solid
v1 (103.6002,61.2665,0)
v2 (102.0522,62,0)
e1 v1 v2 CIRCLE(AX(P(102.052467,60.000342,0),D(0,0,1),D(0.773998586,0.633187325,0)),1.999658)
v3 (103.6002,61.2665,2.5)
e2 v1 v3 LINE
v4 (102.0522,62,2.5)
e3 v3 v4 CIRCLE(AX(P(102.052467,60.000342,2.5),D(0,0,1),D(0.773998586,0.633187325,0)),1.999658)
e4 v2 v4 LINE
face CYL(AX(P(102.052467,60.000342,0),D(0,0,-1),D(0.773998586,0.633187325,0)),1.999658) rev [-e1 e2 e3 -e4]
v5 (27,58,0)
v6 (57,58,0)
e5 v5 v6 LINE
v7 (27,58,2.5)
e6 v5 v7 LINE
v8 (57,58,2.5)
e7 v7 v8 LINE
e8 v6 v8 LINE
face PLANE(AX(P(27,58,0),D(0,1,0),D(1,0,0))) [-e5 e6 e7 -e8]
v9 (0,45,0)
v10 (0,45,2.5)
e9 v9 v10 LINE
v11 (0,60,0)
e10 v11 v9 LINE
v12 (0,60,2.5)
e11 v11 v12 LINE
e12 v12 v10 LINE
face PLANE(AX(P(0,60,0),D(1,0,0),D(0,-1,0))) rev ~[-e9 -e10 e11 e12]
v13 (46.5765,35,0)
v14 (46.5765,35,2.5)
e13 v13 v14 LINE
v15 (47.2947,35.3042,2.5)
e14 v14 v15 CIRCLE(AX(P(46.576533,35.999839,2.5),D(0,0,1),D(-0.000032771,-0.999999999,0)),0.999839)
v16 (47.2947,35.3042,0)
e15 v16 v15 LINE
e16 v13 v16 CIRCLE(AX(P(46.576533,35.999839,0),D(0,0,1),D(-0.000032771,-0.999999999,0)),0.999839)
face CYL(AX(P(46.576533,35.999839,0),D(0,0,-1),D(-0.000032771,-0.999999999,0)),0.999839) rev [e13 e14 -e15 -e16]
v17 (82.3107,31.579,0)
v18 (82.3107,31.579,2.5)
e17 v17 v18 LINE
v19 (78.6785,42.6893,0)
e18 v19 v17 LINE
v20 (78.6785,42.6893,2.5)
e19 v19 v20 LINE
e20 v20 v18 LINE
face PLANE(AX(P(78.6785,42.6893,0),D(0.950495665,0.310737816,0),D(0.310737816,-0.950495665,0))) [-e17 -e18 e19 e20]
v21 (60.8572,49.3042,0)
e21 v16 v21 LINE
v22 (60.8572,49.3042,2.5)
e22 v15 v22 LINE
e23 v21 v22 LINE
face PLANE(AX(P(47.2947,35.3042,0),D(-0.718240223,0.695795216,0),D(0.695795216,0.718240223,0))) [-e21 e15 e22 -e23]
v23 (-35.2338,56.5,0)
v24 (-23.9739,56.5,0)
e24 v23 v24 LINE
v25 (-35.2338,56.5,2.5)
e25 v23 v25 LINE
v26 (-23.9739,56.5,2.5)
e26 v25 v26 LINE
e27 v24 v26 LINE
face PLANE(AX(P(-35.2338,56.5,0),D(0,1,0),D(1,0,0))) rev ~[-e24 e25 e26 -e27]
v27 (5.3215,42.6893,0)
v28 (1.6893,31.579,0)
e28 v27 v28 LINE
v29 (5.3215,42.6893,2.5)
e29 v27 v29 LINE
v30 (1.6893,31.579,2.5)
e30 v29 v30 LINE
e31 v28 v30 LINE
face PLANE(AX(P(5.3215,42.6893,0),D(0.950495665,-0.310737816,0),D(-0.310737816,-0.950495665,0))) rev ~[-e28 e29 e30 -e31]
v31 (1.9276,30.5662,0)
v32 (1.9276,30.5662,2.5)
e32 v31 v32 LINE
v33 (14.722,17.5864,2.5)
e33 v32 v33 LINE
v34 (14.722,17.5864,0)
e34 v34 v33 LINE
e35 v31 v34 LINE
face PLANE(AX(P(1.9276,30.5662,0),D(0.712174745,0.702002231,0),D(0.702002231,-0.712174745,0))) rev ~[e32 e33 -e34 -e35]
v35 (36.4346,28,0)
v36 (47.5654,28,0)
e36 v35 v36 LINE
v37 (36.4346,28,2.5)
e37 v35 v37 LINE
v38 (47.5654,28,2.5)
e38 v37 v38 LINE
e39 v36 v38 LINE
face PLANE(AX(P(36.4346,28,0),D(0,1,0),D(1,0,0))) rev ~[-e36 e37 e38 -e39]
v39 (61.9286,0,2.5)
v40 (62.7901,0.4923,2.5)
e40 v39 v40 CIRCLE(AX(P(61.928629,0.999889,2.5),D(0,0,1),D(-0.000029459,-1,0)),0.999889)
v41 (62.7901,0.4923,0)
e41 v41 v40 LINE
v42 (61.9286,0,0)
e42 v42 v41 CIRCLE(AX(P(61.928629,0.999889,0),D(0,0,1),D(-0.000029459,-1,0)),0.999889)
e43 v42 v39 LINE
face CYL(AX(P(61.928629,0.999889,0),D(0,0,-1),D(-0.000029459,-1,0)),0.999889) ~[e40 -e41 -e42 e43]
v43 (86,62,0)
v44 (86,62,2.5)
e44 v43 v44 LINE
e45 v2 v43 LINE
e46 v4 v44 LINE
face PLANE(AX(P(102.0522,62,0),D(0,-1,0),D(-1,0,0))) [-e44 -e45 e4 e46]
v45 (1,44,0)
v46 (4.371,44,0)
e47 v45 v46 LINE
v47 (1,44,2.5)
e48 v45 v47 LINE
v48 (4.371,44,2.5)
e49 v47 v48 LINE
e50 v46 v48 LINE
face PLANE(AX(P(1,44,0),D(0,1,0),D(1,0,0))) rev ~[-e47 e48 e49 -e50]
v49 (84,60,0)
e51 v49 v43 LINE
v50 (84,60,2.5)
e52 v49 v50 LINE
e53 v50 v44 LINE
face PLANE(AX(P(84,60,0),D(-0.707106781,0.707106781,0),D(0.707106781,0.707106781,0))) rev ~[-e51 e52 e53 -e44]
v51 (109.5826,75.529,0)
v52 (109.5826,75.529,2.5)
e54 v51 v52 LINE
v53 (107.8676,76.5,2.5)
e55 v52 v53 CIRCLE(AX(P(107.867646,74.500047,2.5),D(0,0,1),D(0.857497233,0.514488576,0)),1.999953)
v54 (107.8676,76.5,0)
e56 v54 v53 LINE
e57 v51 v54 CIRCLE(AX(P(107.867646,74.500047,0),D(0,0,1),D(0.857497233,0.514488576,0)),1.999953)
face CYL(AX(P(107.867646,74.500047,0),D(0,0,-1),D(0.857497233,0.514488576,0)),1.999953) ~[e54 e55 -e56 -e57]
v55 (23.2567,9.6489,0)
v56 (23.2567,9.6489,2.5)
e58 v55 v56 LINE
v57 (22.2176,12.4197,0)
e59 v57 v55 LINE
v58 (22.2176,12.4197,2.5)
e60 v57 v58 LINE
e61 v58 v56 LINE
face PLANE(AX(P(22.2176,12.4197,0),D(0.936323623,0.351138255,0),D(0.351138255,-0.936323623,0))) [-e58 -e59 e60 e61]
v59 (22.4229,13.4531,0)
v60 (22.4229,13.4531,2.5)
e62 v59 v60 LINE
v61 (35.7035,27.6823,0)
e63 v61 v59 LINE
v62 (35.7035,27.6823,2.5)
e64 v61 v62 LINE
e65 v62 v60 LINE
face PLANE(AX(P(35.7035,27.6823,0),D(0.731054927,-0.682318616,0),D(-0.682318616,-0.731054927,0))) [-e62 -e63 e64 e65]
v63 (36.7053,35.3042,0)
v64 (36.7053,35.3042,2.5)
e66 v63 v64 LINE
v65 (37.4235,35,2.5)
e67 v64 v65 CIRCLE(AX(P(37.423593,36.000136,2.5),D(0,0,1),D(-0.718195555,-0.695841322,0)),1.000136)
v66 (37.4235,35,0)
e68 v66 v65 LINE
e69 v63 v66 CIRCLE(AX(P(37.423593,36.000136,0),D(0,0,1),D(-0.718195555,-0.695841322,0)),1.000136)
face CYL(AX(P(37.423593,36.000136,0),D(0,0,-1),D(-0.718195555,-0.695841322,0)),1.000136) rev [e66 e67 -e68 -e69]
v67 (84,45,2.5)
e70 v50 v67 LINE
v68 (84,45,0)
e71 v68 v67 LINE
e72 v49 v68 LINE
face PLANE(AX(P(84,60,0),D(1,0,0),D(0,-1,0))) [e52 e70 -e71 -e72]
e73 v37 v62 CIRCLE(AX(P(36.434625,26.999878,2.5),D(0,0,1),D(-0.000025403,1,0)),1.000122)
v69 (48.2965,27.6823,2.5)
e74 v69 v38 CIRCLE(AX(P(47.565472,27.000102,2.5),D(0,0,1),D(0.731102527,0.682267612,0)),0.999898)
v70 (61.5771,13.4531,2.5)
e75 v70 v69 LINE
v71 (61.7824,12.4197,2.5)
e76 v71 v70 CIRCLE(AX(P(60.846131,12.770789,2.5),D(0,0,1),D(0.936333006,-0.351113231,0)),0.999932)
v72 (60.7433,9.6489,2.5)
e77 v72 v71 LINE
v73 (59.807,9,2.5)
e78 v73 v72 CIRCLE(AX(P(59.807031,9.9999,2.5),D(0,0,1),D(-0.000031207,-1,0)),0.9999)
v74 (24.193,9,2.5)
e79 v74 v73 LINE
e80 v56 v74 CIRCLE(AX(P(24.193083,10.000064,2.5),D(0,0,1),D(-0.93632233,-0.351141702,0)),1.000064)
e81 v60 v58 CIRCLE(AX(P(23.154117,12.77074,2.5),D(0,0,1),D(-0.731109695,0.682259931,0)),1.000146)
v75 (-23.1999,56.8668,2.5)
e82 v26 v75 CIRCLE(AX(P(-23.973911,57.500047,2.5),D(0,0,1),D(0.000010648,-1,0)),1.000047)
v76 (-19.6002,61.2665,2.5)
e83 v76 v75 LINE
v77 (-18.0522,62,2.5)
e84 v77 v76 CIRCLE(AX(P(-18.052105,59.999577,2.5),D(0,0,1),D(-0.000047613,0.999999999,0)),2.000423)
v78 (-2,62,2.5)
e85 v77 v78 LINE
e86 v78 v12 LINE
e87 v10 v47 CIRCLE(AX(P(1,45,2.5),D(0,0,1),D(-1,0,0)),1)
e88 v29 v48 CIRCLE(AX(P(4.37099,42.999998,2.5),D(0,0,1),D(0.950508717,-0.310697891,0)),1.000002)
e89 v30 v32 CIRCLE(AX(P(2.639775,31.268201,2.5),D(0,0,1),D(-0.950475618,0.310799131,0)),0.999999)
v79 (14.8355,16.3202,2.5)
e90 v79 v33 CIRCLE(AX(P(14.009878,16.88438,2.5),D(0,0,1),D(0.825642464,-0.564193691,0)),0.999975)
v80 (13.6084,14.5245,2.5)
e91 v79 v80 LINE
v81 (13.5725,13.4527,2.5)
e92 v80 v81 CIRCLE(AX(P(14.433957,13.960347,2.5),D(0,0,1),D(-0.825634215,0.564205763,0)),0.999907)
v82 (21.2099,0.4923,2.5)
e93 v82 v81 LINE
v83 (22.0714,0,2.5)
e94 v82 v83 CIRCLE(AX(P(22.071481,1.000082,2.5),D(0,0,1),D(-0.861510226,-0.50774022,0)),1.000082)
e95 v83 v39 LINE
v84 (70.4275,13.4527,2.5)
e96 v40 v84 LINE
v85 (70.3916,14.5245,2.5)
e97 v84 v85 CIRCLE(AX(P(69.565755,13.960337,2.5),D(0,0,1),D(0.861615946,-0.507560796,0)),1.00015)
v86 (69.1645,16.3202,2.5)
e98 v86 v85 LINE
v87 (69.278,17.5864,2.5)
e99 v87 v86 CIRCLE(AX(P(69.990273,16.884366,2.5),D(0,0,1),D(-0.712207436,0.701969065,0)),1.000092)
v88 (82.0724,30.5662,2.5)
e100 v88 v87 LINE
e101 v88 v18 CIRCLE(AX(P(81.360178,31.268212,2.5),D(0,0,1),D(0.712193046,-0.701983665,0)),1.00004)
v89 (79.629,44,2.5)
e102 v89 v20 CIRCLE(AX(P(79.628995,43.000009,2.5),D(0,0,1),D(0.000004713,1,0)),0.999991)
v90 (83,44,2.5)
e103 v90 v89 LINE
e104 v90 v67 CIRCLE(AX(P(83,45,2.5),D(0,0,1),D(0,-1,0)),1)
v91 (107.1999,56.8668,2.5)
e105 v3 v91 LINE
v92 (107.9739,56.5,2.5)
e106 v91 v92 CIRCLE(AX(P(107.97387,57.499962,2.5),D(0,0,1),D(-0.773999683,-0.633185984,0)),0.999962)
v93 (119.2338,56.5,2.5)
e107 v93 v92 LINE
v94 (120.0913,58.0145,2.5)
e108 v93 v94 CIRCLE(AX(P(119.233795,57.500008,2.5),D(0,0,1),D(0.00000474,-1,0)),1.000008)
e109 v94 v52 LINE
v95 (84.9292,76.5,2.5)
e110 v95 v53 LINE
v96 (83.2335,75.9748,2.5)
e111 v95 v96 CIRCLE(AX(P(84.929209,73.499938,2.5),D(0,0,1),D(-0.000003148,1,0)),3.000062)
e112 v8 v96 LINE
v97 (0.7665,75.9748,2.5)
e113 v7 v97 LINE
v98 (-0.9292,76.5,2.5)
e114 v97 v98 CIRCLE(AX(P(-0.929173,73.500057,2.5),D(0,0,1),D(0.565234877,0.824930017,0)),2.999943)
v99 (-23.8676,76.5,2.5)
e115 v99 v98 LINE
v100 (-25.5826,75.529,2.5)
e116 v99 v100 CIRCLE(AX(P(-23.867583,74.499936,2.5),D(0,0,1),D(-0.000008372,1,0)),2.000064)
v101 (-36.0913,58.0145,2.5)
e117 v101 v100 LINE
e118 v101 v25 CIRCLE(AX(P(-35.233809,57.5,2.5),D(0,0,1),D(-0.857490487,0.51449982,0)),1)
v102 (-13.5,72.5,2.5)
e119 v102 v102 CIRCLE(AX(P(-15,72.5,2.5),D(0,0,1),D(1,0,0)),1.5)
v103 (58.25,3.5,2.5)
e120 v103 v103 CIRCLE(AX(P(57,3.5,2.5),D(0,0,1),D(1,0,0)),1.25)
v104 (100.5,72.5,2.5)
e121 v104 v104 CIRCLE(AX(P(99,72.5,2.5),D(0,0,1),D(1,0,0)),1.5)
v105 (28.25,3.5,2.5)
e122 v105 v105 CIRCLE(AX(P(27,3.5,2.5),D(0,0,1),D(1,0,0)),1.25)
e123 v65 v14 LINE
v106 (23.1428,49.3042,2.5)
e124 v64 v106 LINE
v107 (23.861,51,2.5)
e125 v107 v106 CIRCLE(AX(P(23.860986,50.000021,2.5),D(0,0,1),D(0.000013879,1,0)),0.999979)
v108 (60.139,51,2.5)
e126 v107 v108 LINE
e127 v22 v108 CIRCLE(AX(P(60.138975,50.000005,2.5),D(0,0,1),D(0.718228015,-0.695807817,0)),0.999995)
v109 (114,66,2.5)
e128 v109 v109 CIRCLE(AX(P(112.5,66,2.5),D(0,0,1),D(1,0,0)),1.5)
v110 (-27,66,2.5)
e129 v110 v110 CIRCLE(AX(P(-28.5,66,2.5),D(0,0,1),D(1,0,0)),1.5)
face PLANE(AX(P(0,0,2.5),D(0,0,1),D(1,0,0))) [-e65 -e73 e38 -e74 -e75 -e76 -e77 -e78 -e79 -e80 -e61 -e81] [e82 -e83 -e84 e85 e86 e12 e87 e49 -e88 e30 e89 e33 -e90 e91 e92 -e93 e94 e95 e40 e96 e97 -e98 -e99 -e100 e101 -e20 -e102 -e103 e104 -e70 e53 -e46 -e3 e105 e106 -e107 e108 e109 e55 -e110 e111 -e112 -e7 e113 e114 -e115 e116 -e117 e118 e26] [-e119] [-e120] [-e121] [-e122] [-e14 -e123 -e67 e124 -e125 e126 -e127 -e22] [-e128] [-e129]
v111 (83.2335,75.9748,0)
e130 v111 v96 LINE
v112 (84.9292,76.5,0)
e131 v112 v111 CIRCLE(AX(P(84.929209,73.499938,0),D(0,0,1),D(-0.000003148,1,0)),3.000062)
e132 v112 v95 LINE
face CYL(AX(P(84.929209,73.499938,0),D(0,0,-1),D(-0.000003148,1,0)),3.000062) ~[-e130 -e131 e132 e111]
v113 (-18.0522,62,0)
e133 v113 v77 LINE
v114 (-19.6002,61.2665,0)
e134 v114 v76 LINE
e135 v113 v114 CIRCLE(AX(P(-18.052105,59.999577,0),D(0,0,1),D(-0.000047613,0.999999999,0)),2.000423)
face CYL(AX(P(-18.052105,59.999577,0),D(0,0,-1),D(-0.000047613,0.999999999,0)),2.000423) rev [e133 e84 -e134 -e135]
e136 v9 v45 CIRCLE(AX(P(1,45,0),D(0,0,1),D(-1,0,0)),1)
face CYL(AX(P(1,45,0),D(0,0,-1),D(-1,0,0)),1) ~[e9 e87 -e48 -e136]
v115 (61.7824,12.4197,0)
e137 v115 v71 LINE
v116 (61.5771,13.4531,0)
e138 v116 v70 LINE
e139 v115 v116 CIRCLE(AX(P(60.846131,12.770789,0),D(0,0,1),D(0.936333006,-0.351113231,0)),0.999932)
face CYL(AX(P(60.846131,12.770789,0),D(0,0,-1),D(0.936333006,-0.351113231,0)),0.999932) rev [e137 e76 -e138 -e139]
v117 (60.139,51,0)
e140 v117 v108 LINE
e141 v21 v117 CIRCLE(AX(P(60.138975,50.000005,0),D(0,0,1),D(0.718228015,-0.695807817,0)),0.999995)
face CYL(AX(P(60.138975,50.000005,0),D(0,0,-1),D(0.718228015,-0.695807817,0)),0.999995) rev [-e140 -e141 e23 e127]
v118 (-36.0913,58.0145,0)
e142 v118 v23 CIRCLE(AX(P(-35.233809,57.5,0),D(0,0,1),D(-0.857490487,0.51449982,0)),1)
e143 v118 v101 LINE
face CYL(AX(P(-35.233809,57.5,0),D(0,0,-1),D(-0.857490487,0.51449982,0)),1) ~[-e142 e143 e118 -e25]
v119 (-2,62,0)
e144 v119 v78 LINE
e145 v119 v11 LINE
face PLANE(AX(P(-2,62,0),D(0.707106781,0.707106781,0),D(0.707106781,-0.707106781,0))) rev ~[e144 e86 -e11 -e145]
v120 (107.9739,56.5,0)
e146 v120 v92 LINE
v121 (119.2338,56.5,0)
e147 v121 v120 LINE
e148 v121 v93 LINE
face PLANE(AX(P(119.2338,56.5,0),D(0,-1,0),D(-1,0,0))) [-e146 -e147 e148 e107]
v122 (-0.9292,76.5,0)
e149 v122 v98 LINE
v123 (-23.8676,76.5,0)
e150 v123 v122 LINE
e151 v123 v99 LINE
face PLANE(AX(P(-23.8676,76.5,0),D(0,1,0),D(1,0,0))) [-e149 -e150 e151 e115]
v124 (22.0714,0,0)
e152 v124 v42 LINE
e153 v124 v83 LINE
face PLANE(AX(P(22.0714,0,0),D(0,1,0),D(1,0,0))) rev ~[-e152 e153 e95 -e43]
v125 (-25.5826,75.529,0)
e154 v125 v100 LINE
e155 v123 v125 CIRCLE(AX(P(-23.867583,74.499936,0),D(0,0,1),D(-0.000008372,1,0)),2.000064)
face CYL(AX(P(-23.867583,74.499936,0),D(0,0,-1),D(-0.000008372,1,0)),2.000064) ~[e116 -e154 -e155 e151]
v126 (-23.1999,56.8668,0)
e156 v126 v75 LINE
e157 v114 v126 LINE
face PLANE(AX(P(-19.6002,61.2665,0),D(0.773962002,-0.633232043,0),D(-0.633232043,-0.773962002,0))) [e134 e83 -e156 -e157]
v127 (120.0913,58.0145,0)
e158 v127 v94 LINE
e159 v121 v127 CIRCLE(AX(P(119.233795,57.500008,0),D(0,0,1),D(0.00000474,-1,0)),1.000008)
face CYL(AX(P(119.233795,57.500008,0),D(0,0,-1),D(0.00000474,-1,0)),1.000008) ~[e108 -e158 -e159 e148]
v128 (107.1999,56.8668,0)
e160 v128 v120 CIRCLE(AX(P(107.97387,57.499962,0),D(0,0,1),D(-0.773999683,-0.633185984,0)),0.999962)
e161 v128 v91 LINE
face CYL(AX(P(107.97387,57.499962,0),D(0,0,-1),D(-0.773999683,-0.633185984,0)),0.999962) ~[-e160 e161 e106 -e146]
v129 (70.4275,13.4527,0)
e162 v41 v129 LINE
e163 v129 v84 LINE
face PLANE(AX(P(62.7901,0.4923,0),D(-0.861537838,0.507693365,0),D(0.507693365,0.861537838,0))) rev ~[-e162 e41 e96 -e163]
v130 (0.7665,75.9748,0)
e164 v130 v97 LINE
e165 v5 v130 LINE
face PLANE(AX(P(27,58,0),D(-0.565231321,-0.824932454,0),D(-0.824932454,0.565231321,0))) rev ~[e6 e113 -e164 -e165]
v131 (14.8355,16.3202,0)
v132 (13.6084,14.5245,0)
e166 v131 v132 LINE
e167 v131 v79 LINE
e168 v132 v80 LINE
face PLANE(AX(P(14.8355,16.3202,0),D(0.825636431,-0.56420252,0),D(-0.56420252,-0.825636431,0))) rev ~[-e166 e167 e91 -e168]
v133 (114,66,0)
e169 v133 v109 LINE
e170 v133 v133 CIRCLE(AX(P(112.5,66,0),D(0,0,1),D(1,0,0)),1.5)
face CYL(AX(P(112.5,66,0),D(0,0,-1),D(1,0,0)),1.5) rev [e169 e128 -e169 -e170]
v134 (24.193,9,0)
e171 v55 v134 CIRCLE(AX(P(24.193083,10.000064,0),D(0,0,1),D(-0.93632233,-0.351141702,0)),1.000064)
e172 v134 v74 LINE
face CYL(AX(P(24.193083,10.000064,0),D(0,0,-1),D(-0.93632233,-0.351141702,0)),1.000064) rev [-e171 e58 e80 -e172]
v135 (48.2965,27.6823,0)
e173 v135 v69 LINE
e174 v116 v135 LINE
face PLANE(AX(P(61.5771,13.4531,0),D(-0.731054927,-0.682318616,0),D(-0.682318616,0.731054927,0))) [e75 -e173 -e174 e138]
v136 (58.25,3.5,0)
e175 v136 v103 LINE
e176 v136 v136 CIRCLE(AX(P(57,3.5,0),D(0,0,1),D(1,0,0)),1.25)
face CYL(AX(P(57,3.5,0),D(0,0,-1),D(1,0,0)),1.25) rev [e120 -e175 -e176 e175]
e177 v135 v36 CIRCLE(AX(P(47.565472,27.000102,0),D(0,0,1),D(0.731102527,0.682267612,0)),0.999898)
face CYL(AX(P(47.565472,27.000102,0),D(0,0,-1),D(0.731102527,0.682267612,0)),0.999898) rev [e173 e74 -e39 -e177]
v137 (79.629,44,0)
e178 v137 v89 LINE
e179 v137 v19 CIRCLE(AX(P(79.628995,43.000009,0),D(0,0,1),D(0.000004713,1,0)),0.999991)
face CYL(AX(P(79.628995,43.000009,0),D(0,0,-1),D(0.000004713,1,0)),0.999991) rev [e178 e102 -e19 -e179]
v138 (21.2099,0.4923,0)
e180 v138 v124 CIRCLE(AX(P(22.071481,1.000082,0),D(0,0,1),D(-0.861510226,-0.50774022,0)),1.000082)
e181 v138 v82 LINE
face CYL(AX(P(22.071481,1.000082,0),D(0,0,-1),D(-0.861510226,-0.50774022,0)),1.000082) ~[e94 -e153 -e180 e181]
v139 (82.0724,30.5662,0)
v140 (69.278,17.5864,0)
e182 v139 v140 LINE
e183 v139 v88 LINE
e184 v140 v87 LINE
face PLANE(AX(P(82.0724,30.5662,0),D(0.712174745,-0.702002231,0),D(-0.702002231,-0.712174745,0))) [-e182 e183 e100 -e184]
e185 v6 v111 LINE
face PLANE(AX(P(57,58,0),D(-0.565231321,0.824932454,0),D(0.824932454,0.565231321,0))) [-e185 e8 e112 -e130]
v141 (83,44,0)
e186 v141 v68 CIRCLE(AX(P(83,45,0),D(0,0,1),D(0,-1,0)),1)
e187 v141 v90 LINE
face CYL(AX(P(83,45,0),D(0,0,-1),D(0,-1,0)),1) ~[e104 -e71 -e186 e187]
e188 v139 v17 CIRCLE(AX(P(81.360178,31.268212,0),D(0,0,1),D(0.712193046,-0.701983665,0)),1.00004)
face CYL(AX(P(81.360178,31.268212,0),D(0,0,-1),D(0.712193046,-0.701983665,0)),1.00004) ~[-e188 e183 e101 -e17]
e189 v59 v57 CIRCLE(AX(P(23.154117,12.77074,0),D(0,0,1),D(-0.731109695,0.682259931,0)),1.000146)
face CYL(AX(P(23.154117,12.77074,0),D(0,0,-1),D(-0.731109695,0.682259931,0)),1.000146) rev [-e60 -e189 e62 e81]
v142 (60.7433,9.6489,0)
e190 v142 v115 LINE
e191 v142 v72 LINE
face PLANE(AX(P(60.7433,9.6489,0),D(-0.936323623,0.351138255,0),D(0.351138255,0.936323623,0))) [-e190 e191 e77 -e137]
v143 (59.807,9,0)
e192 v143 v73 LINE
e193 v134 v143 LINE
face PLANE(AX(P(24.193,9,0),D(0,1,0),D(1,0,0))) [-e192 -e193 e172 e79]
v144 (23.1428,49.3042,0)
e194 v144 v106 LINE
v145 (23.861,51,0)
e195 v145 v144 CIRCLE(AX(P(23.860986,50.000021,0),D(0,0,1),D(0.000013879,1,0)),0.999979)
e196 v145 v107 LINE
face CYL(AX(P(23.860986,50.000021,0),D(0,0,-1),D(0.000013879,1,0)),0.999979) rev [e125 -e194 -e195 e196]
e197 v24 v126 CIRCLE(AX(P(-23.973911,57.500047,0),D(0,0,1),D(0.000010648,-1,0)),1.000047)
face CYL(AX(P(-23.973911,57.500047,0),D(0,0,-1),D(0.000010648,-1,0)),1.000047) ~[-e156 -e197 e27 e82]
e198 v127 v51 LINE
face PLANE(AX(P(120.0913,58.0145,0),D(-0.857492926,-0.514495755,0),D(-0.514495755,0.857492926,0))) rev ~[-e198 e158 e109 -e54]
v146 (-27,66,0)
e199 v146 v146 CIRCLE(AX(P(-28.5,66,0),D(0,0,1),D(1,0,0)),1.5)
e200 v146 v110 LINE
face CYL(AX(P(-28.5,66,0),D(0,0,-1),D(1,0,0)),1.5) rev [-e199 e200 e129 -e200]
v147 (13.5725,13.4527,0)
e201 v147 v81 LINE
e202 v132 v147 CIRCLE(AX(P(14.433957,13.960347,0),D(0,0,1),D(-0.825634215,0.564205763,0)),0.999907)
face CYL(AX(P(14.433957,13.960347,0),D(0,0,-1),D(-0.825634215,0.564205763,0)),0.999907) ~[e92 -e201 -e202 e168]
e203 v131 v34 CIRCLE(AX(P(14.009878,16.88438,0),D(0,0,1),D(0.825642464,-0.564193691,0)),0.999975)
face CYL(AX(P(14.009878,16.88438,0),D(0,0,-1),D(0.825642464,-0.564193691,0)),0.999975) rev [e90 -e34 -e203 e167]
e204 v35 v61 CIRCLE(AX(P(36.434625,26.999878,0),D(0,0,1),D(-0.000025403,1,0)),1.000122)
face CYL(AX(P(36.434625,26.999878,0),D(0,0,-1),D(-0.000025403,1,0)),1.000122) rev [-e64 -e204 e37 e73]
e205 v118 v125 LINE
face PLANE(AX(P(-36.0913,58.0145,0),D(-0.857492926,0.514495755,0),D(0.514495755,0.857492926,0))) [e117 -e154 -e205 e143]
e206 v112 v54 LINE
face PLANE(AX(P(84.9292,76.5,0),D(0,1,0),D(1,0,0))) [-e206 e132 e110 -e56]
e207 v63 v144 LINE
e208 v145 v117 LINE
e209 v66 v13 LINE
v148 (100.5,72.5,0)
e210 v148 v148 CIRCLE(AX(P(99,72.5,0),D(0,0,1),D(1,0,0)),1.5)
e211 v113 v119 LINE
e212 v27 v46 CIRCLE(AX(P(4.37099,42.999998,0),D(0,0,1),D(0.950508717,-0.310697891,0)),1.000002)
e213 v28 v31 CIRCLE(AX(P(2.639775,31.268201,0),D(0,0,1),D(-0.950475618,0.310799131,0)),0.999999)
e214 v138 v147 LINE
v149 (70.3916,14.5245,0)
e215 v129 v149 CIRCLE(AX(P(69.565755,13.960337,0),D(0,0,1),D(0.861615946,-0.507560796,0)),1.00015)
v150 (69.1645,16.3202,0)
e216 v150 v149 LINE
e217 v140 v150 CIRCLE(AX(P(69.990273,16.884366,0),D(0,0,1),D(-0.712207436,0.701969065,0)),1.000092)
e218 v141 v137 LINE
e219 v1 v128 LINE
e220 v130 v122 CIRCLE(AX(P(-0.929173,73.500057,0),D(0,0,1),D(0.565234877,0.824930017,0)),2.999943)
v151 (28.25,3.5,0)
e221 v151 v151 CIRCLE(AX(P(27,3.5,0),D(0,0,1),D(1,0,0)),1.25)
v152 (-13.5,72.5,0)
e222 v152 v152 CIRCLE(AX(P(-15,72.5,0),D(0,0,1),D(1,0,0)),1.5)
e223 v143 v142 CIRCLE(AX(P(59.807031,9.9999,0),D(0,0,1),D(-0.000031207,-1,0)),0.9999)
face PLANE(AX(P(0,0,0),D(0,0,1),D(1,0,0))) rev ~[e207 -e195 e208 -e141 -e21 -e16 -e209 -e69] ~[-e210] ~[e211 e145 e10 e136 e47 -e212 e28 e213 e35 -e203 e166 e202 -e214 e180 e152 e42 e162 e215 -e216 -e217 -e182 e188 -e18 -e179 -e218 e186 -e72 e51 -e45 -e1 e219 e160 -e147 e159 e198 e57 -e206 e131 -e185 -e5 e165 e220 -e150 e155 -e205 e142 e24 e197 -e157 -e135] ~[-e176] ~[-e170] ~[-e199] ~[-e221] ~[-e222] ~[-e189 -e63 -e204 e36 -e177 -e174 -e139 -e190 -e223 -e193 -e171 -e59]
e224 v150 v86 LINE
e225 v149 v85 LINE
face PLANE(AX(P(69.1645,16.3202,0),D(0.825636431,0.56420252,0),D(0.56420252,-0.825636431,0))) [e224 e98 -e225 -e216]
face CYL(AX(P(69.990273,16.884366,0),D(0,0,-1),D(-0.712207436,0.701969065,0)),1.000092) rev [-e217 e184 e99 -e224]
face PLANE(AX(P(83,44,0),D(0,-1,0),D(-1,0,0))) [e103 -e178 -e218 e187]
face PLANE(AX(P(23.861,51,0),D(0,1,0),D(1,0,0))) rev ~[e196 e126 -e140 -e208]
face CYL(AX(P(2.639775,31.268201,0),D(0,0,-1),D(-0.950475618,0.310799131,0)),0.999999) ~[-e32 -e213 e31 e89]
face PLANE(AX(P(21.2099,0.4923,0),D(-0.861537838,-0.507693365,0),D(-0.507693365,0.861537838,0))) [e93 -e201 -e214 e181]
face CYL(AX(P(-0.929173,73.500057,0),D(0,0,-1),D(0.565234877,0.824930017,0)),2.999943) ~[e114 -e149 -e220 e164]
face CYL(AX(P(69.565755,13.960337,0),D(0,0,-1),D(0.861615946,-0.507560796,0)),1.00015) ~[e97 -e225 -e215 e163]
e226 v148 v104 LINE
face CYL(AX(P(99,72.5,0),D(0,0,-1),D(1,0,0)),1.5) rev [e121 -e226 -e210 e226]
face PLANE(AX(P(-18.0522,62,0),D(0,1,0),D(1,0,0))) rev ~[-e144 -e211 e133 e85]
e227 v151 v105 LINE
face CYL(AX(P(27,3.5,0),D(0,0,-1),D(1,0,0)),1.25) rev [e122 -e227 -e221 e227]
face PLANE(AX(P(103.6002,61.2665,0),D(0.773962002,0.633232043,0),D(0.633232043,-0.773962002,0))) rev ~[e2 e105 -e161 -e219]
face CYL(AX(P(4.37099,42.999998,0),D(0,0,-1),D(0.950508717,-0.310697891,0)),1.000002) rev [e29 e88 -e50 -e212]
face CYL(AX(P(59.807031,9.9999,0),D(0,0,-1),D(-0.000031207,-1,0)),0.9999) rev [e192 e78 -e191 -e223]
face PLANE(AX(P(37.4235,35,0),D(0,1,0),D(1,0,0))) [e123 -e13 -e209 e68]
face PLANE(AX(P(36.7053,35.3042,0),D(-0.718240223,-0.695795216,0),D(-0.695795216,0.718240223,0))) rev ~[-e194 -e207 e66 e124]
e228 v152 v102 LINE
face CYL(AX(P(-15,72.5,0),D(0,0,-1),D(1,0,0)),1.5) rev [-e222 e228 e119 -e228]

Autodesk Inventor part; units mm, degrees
ref_plane "YZ Plane" through (0, 0, 0) normal (1, 0, 0) x (0, 1, 0)
ref_plane "XZ Plane" through (0, 0, 0) normal (0, 1, 0) x (-1, 0, 0)
ref_plane "XY Plane" through (0, 0, 0) normal (0, 0, 1) x (1, 0, 0)
sketch "Sketch1" plane through (0, 0, 0) normal (0, 0, 1) x (1, 0, 0)
  line L0 (0, 76.5) -> (84, 76.5) construction
  line L1 (84, 76.5) -> (84, 0) construction
  line L2 (84, 0) -> (0, 0) construction
  line L3 (0, 0) -> (0, 76.5) construction
  line L4 (-37, 76.5) -> (0, 76.5) construction
  line L5 (0, 76.5) -> (0, 62) construction
  line L6 (0, 62) -> (-37, 62) construction
  line L7 (-37, 62) -> (-37, 76.5) construction
  line L8 (84, 76.5) -> (121, 76.5) construction
  line L9 (121, 76.5) -> (121, 62) construction
  line L10 (121, 62) -> (84, 62) construction
  line L11 (84, 62) -> (84, 76.5) construction
  line L12 (27, 58) -> (57, 58)
  line L13 (27, 58) -> (0.7665, 75.9748)
  line L14 (57, 58) -> (83.2335, 75.9748)
  line L15 (13.25, 14) -> (70.75, 14) construction
  line L16 (0, 76.5) -> (-25, 76.5) construction
  line L17 (-37, 76.5) -> (-37, 56.5) construction
  line L18 (-36.0913, 58.0145) -> (-25.5826, 75.529)
  line L19 (-35.2338, 56.5) -> (-23.9739, 56.5)
  line L20 (0, 62) -> (-19, 62) construction
  line L21 (-19.6002, 61.2665) -> (-23.1999, 56.8668)
  line L22 (0, 44) -> (84, 44) construction
  line L23 (1, 44) -> (4.371, 44)
  line L24 (83, 44) -> (79.629, 44)
  line L25 (1.5, 31) -> (82.5, 31) construction
  line L26 (5.3215, 42.6893) -> (1.6893, 31.579)
  line L27 (78.6785, 42.6893) -> (82.3107, 31.579)
  line L28 (15.3, 17) -> (68.7, 17) construction
  line L29 (82.0724, 30.5662) -> (69.278, 17.5864)
  line L30 (1.9276, 30.5662) -> (14.722, 17.5864)
  line L31 (69.1645, 16.3202) -> (70.3916, 14.5245)
  line L32 (14.8355, 16.3202) -> (13.6084, 14.5245)
  line L33 (21.5, 0) -> (62.5, 0) construction
  line L34 (21.2099, 0.4923) -> (13.5725, 13.4527)
  line L35 (62.7901, 0.4923) -> (70.4275, 13.4527)
  line L36 (84, 76.5) -> (109, 76.5) construction
  line L37 (121, 76.5) -> (121, 56.5) construction
  line L38 (120.0913, 58.0145) -> (109.5826, 75.529)
  line L39 (119.2338, 56.5) -> (107.9739, 56.5)
  line L40 (84, 62) -> (103, 62) construction
  line L41 (103.6002, 61.2665) -> (107.1999, 56.8668)
  line L42 (-23.8676, 76.5) -> (-0.9292, 76.5)
  line L43 (84.9292, 76.5) -> (107.8676, 76.5)
  line L44 (-18.0522, 62) -> (-2, 62)
  line L45 (102.0522, 62) -> (86, 62)
  line L46 (0, 60) -> (0, 45)
  line L47 (84, 60) -> (84, 45)
  line L48 (22.0714, 0) -> (61.9286, 0)
  line L49 (23.861, 51) -> (60.139, 51)
  line L50 (37.4235, 35) -> (46.5765, 35)
  line L51 (47.2947, 35.3042) -> (60.8572, 49.3042)
  line L52 (36.7053, 35.3042) -> (23.1428, 49.3042)
  line L53 (36.4346, 28) -> (47.5654, 28)
  line L54 (22, 13) -> (62, 13) construction
  line L55 (24.193, 9) -> (59.807, 9)
  line L56 (60.7433, 9.6489) -> (61.7824, 12.4197)
  line L57 (61.5771, 13.4531) -> (48.2965, 27.6823)
  line L58 (35.7035, 27.6823) -> (22.4229, 13.4531)
  line L59 (22.2176, 12.4197) -> (23.2567, 9.6489)
  line L60 (-28.5, 66) -> (112.5, 66) construction
  line L61 (-15, 72.5) -> (99, 72.5) construction
  line L62 (27, 3.5) -> (57, 3.5) construction
  arc A0 (0.7665, 75.9748) -> (-0.9292, 76.5) centre (-0.9292, 73.5) ccw
  arc A1 (84.9292, 76.5) -> (83.2335, 75.9748) centre (84.9292, 73.5) ccw
  arc A2 (-23.8676, 76.5) -> (-25.5826, 75.529) centre (-23.8676, 74.5) ccw
  arc A3 (109.5826, 75.529) -> (107.8676, 76.5) centre (107.8676, 74.5) ccw
  arc A4 (119.2338, 56.5) -> (120.0913, 58.0145) centre (119.2338, 57.5) ccw
  arc A5 (-36.0913, 58.0145) -> (-35.2338, 56.5) centre (-35.2338, 57.5) ccw
  arc A6 (-23.9739, 56.5) -> (-23.1999, 56.8668) centre (-23.9739, 57.5) ccw
  arc A7 (107.1999, 56.8668) -> (107.9739, 56.5) centre (107.9739, 57.5) ccw
  arc A8 (103.6002, 61.2665) -> (102.0522, 62) centre (102.0522, 60) ccw
  arc A9 (-18.0522, 62) -> (-19.6002, 61.2665) centre (-18.0522, 60) ccw
  line L63 (-2, 62) -> (0, 60)
  line L64 (84, 60) -> (86, 62)
  arc A10 (0, 45) -> (1, 44) centre (1, 45) ccw
  arc A11 (83, 44) -> (84, 45) centre (83, 45) ccw
  arc A12 (79.629, 44) -> (78.6785, 42.6893) centre (79.629, 43) ccw
  arc A13 (5.3215, 42.6893) -> (4.371, 44) centre (4.371, 43) ccw
  arc A14 (1.6893, 31.579) -> (1.9276, 30.5662) centre (2.6398, 31.2682) ccw
  arc A15 (82.0724, 30.5662) -> (82.3107, 31.579) centre (81.3602, 31.2682) ccw
  arc A16 (69.278, 17.5864) -> (69.1645, 16.3202) centre (69.9902, 16.8844) ccw
  arc A17 (70.4275, 13.4527) -> (70.3916, 14.5245) centre (69.5659, 13.9603) ccw
  arc A18 (61.9286, 0) -> (62.7901, 0.4923) centre (61.9286, 1) ccw
  arc A19 (21.2099, 0.4923) -> (22.0714, 0) centre (22.0714, 1) ccw
  arc A20 (13.6084, 14.5245) -> (13.5725, 13.4527) centre (14.4341, 13.9603) ccw
  arc A21 (14.8355, 16.3202) -> (14.722, 17.5864) centre (14.0098, 16.8844) ccw
  arc A22 (23.2567, 9.6489) -> (24.193, 9) centre (24.193, 10) ccw
  arc A23 (22.4229, 13.4531) -> (22.2176, 12.4197) centre (23.154, 12.7708) ccw
  arc A24 (36.4346, 28) -> (35.7035, 27.6823) centre (36.4346, 27) ccw
  arc A25 (48.2965, 27.6823) -> (47.5654, 28) centre (47.5654, 27) ccw
  arc A26 (61.7824, 12.4197) -> (61.5771, 13.4531) centre (60.846, 12.7708) ccw
  arc A27 (59.807, 9) -> (60.7433, 9.6489) centre (59.807, 10) ccw
  arc A28 (23.861, 51) -> (23.1428, 49.3042) centre (23.861, 50) ccw
  arc A29 (60.8572, 49.3042) -> (60.139, 51) centre (60.139, 50) ccw
  arc A30 (46.5765, 35) -> (47.2947, 35.3042) centre (46.5765, 36) ccw
  arc A31 (36.7053, 35.3042) -> (37.4235, 35) centre (37.4235, 36) ccw
  circle A32 centre (-15, 72.5) radius 1.5
  circle A33 centre (-28.5, 66) radius 1.5
  circle A34 centre (112.5, 66) radius 1.5
  circle A35 centre (99, 72.5) radius 1.5
  circle A36 centre (57, 3.5) radius 1.25
  circle A37 centre (27, 3.5) radius 1.25
  point P0 (-23.5, 56.5)
  point P1 (5.75, 44)
  point P2 (78.25, 44)
  point P3 (107.5, 56.5)
  point P4 (21.5, 51)
  point P5 (62.5, 51)
  point P6 (37, 35)
  point P7 (47, 35)
  point P8 (36, 28)
  point P9 (48, 28)
  point P10 (23.5, 9)
  point P11 (60.5, 9)
  dimension "d0" = 84
  dimension "d1" = 76.5
  dimension "d2" = 37
  dimension "d3" = 14.5
  dimension "d4" = 14.5
  dimension "d5" = 37
  dimension "d7" = 30
  dimension "d8" = 27
  dimension "d9" = 58
  dimension "d10" = 57.5
  dimension "d11" = 13.25
  dimension "d12" = 14
  dimension "d13" = 25
  dimension "d14" = 20
  dimension "d15" = 13.5
  dimension "d16" = 19
  dimension "d17" = 18
  dimension "d18" = 5.75
  dimension "d19" = 5.75
  dimension "d20" = 81
  dimension "d21" = 13
  dimension "d22" = 1.5
  dimension "d23" = 53.4
  dimension "d24" = 14
  dimension "d25" = 15.3
  dimension "d26" = 41
  dimension "d27" = 21.5
  dimension "d28" = 25
  dimension "d29" = 20
  dimension "d30" = 13.5
  dimension "d31" = 19
  dimension "d32" = 41
  dimension "d33" = 21.5
  dimension "d34" = 7
  dimension "d35" = 10
  dimension "d36" = 23
  dimension "d37" = 37
  dimension "d38" = 12
  dimension "d39" = 28
  dimension "d40" = 36
  dimension "d41" = 40
  dimension "d42" = 13
  dimension "d43" = 22
  dimension "d44" = 37
  dimension "d45" = 9
  dimension "d46" = 23.5
  dimension "d47" = 141
  dimension "d48" = 10.5
  dimension "d49" = 8.5
  dimension "d50" = 114
  dimension "d51" = 4
  dimension "d52" = 22
  dimension "d53" = 30
  dimension "d54" = 3.5
  dimension "d55" = 27
  dimension "d56" = 3
  dimension "d57" = 3
  dimension "d58" = 2
  dimension "d59" = 2
  dimension "d60" = 1
  dimension "d61" = 1
  dimension "d62" = 1
  dimension "d63" = 1
  dimension "d64" = 2
extrude "Extrusion2" add sketch "Sketch1" along normal blind 2.5
properties part number "RCT-H001_Al_side_plate"
